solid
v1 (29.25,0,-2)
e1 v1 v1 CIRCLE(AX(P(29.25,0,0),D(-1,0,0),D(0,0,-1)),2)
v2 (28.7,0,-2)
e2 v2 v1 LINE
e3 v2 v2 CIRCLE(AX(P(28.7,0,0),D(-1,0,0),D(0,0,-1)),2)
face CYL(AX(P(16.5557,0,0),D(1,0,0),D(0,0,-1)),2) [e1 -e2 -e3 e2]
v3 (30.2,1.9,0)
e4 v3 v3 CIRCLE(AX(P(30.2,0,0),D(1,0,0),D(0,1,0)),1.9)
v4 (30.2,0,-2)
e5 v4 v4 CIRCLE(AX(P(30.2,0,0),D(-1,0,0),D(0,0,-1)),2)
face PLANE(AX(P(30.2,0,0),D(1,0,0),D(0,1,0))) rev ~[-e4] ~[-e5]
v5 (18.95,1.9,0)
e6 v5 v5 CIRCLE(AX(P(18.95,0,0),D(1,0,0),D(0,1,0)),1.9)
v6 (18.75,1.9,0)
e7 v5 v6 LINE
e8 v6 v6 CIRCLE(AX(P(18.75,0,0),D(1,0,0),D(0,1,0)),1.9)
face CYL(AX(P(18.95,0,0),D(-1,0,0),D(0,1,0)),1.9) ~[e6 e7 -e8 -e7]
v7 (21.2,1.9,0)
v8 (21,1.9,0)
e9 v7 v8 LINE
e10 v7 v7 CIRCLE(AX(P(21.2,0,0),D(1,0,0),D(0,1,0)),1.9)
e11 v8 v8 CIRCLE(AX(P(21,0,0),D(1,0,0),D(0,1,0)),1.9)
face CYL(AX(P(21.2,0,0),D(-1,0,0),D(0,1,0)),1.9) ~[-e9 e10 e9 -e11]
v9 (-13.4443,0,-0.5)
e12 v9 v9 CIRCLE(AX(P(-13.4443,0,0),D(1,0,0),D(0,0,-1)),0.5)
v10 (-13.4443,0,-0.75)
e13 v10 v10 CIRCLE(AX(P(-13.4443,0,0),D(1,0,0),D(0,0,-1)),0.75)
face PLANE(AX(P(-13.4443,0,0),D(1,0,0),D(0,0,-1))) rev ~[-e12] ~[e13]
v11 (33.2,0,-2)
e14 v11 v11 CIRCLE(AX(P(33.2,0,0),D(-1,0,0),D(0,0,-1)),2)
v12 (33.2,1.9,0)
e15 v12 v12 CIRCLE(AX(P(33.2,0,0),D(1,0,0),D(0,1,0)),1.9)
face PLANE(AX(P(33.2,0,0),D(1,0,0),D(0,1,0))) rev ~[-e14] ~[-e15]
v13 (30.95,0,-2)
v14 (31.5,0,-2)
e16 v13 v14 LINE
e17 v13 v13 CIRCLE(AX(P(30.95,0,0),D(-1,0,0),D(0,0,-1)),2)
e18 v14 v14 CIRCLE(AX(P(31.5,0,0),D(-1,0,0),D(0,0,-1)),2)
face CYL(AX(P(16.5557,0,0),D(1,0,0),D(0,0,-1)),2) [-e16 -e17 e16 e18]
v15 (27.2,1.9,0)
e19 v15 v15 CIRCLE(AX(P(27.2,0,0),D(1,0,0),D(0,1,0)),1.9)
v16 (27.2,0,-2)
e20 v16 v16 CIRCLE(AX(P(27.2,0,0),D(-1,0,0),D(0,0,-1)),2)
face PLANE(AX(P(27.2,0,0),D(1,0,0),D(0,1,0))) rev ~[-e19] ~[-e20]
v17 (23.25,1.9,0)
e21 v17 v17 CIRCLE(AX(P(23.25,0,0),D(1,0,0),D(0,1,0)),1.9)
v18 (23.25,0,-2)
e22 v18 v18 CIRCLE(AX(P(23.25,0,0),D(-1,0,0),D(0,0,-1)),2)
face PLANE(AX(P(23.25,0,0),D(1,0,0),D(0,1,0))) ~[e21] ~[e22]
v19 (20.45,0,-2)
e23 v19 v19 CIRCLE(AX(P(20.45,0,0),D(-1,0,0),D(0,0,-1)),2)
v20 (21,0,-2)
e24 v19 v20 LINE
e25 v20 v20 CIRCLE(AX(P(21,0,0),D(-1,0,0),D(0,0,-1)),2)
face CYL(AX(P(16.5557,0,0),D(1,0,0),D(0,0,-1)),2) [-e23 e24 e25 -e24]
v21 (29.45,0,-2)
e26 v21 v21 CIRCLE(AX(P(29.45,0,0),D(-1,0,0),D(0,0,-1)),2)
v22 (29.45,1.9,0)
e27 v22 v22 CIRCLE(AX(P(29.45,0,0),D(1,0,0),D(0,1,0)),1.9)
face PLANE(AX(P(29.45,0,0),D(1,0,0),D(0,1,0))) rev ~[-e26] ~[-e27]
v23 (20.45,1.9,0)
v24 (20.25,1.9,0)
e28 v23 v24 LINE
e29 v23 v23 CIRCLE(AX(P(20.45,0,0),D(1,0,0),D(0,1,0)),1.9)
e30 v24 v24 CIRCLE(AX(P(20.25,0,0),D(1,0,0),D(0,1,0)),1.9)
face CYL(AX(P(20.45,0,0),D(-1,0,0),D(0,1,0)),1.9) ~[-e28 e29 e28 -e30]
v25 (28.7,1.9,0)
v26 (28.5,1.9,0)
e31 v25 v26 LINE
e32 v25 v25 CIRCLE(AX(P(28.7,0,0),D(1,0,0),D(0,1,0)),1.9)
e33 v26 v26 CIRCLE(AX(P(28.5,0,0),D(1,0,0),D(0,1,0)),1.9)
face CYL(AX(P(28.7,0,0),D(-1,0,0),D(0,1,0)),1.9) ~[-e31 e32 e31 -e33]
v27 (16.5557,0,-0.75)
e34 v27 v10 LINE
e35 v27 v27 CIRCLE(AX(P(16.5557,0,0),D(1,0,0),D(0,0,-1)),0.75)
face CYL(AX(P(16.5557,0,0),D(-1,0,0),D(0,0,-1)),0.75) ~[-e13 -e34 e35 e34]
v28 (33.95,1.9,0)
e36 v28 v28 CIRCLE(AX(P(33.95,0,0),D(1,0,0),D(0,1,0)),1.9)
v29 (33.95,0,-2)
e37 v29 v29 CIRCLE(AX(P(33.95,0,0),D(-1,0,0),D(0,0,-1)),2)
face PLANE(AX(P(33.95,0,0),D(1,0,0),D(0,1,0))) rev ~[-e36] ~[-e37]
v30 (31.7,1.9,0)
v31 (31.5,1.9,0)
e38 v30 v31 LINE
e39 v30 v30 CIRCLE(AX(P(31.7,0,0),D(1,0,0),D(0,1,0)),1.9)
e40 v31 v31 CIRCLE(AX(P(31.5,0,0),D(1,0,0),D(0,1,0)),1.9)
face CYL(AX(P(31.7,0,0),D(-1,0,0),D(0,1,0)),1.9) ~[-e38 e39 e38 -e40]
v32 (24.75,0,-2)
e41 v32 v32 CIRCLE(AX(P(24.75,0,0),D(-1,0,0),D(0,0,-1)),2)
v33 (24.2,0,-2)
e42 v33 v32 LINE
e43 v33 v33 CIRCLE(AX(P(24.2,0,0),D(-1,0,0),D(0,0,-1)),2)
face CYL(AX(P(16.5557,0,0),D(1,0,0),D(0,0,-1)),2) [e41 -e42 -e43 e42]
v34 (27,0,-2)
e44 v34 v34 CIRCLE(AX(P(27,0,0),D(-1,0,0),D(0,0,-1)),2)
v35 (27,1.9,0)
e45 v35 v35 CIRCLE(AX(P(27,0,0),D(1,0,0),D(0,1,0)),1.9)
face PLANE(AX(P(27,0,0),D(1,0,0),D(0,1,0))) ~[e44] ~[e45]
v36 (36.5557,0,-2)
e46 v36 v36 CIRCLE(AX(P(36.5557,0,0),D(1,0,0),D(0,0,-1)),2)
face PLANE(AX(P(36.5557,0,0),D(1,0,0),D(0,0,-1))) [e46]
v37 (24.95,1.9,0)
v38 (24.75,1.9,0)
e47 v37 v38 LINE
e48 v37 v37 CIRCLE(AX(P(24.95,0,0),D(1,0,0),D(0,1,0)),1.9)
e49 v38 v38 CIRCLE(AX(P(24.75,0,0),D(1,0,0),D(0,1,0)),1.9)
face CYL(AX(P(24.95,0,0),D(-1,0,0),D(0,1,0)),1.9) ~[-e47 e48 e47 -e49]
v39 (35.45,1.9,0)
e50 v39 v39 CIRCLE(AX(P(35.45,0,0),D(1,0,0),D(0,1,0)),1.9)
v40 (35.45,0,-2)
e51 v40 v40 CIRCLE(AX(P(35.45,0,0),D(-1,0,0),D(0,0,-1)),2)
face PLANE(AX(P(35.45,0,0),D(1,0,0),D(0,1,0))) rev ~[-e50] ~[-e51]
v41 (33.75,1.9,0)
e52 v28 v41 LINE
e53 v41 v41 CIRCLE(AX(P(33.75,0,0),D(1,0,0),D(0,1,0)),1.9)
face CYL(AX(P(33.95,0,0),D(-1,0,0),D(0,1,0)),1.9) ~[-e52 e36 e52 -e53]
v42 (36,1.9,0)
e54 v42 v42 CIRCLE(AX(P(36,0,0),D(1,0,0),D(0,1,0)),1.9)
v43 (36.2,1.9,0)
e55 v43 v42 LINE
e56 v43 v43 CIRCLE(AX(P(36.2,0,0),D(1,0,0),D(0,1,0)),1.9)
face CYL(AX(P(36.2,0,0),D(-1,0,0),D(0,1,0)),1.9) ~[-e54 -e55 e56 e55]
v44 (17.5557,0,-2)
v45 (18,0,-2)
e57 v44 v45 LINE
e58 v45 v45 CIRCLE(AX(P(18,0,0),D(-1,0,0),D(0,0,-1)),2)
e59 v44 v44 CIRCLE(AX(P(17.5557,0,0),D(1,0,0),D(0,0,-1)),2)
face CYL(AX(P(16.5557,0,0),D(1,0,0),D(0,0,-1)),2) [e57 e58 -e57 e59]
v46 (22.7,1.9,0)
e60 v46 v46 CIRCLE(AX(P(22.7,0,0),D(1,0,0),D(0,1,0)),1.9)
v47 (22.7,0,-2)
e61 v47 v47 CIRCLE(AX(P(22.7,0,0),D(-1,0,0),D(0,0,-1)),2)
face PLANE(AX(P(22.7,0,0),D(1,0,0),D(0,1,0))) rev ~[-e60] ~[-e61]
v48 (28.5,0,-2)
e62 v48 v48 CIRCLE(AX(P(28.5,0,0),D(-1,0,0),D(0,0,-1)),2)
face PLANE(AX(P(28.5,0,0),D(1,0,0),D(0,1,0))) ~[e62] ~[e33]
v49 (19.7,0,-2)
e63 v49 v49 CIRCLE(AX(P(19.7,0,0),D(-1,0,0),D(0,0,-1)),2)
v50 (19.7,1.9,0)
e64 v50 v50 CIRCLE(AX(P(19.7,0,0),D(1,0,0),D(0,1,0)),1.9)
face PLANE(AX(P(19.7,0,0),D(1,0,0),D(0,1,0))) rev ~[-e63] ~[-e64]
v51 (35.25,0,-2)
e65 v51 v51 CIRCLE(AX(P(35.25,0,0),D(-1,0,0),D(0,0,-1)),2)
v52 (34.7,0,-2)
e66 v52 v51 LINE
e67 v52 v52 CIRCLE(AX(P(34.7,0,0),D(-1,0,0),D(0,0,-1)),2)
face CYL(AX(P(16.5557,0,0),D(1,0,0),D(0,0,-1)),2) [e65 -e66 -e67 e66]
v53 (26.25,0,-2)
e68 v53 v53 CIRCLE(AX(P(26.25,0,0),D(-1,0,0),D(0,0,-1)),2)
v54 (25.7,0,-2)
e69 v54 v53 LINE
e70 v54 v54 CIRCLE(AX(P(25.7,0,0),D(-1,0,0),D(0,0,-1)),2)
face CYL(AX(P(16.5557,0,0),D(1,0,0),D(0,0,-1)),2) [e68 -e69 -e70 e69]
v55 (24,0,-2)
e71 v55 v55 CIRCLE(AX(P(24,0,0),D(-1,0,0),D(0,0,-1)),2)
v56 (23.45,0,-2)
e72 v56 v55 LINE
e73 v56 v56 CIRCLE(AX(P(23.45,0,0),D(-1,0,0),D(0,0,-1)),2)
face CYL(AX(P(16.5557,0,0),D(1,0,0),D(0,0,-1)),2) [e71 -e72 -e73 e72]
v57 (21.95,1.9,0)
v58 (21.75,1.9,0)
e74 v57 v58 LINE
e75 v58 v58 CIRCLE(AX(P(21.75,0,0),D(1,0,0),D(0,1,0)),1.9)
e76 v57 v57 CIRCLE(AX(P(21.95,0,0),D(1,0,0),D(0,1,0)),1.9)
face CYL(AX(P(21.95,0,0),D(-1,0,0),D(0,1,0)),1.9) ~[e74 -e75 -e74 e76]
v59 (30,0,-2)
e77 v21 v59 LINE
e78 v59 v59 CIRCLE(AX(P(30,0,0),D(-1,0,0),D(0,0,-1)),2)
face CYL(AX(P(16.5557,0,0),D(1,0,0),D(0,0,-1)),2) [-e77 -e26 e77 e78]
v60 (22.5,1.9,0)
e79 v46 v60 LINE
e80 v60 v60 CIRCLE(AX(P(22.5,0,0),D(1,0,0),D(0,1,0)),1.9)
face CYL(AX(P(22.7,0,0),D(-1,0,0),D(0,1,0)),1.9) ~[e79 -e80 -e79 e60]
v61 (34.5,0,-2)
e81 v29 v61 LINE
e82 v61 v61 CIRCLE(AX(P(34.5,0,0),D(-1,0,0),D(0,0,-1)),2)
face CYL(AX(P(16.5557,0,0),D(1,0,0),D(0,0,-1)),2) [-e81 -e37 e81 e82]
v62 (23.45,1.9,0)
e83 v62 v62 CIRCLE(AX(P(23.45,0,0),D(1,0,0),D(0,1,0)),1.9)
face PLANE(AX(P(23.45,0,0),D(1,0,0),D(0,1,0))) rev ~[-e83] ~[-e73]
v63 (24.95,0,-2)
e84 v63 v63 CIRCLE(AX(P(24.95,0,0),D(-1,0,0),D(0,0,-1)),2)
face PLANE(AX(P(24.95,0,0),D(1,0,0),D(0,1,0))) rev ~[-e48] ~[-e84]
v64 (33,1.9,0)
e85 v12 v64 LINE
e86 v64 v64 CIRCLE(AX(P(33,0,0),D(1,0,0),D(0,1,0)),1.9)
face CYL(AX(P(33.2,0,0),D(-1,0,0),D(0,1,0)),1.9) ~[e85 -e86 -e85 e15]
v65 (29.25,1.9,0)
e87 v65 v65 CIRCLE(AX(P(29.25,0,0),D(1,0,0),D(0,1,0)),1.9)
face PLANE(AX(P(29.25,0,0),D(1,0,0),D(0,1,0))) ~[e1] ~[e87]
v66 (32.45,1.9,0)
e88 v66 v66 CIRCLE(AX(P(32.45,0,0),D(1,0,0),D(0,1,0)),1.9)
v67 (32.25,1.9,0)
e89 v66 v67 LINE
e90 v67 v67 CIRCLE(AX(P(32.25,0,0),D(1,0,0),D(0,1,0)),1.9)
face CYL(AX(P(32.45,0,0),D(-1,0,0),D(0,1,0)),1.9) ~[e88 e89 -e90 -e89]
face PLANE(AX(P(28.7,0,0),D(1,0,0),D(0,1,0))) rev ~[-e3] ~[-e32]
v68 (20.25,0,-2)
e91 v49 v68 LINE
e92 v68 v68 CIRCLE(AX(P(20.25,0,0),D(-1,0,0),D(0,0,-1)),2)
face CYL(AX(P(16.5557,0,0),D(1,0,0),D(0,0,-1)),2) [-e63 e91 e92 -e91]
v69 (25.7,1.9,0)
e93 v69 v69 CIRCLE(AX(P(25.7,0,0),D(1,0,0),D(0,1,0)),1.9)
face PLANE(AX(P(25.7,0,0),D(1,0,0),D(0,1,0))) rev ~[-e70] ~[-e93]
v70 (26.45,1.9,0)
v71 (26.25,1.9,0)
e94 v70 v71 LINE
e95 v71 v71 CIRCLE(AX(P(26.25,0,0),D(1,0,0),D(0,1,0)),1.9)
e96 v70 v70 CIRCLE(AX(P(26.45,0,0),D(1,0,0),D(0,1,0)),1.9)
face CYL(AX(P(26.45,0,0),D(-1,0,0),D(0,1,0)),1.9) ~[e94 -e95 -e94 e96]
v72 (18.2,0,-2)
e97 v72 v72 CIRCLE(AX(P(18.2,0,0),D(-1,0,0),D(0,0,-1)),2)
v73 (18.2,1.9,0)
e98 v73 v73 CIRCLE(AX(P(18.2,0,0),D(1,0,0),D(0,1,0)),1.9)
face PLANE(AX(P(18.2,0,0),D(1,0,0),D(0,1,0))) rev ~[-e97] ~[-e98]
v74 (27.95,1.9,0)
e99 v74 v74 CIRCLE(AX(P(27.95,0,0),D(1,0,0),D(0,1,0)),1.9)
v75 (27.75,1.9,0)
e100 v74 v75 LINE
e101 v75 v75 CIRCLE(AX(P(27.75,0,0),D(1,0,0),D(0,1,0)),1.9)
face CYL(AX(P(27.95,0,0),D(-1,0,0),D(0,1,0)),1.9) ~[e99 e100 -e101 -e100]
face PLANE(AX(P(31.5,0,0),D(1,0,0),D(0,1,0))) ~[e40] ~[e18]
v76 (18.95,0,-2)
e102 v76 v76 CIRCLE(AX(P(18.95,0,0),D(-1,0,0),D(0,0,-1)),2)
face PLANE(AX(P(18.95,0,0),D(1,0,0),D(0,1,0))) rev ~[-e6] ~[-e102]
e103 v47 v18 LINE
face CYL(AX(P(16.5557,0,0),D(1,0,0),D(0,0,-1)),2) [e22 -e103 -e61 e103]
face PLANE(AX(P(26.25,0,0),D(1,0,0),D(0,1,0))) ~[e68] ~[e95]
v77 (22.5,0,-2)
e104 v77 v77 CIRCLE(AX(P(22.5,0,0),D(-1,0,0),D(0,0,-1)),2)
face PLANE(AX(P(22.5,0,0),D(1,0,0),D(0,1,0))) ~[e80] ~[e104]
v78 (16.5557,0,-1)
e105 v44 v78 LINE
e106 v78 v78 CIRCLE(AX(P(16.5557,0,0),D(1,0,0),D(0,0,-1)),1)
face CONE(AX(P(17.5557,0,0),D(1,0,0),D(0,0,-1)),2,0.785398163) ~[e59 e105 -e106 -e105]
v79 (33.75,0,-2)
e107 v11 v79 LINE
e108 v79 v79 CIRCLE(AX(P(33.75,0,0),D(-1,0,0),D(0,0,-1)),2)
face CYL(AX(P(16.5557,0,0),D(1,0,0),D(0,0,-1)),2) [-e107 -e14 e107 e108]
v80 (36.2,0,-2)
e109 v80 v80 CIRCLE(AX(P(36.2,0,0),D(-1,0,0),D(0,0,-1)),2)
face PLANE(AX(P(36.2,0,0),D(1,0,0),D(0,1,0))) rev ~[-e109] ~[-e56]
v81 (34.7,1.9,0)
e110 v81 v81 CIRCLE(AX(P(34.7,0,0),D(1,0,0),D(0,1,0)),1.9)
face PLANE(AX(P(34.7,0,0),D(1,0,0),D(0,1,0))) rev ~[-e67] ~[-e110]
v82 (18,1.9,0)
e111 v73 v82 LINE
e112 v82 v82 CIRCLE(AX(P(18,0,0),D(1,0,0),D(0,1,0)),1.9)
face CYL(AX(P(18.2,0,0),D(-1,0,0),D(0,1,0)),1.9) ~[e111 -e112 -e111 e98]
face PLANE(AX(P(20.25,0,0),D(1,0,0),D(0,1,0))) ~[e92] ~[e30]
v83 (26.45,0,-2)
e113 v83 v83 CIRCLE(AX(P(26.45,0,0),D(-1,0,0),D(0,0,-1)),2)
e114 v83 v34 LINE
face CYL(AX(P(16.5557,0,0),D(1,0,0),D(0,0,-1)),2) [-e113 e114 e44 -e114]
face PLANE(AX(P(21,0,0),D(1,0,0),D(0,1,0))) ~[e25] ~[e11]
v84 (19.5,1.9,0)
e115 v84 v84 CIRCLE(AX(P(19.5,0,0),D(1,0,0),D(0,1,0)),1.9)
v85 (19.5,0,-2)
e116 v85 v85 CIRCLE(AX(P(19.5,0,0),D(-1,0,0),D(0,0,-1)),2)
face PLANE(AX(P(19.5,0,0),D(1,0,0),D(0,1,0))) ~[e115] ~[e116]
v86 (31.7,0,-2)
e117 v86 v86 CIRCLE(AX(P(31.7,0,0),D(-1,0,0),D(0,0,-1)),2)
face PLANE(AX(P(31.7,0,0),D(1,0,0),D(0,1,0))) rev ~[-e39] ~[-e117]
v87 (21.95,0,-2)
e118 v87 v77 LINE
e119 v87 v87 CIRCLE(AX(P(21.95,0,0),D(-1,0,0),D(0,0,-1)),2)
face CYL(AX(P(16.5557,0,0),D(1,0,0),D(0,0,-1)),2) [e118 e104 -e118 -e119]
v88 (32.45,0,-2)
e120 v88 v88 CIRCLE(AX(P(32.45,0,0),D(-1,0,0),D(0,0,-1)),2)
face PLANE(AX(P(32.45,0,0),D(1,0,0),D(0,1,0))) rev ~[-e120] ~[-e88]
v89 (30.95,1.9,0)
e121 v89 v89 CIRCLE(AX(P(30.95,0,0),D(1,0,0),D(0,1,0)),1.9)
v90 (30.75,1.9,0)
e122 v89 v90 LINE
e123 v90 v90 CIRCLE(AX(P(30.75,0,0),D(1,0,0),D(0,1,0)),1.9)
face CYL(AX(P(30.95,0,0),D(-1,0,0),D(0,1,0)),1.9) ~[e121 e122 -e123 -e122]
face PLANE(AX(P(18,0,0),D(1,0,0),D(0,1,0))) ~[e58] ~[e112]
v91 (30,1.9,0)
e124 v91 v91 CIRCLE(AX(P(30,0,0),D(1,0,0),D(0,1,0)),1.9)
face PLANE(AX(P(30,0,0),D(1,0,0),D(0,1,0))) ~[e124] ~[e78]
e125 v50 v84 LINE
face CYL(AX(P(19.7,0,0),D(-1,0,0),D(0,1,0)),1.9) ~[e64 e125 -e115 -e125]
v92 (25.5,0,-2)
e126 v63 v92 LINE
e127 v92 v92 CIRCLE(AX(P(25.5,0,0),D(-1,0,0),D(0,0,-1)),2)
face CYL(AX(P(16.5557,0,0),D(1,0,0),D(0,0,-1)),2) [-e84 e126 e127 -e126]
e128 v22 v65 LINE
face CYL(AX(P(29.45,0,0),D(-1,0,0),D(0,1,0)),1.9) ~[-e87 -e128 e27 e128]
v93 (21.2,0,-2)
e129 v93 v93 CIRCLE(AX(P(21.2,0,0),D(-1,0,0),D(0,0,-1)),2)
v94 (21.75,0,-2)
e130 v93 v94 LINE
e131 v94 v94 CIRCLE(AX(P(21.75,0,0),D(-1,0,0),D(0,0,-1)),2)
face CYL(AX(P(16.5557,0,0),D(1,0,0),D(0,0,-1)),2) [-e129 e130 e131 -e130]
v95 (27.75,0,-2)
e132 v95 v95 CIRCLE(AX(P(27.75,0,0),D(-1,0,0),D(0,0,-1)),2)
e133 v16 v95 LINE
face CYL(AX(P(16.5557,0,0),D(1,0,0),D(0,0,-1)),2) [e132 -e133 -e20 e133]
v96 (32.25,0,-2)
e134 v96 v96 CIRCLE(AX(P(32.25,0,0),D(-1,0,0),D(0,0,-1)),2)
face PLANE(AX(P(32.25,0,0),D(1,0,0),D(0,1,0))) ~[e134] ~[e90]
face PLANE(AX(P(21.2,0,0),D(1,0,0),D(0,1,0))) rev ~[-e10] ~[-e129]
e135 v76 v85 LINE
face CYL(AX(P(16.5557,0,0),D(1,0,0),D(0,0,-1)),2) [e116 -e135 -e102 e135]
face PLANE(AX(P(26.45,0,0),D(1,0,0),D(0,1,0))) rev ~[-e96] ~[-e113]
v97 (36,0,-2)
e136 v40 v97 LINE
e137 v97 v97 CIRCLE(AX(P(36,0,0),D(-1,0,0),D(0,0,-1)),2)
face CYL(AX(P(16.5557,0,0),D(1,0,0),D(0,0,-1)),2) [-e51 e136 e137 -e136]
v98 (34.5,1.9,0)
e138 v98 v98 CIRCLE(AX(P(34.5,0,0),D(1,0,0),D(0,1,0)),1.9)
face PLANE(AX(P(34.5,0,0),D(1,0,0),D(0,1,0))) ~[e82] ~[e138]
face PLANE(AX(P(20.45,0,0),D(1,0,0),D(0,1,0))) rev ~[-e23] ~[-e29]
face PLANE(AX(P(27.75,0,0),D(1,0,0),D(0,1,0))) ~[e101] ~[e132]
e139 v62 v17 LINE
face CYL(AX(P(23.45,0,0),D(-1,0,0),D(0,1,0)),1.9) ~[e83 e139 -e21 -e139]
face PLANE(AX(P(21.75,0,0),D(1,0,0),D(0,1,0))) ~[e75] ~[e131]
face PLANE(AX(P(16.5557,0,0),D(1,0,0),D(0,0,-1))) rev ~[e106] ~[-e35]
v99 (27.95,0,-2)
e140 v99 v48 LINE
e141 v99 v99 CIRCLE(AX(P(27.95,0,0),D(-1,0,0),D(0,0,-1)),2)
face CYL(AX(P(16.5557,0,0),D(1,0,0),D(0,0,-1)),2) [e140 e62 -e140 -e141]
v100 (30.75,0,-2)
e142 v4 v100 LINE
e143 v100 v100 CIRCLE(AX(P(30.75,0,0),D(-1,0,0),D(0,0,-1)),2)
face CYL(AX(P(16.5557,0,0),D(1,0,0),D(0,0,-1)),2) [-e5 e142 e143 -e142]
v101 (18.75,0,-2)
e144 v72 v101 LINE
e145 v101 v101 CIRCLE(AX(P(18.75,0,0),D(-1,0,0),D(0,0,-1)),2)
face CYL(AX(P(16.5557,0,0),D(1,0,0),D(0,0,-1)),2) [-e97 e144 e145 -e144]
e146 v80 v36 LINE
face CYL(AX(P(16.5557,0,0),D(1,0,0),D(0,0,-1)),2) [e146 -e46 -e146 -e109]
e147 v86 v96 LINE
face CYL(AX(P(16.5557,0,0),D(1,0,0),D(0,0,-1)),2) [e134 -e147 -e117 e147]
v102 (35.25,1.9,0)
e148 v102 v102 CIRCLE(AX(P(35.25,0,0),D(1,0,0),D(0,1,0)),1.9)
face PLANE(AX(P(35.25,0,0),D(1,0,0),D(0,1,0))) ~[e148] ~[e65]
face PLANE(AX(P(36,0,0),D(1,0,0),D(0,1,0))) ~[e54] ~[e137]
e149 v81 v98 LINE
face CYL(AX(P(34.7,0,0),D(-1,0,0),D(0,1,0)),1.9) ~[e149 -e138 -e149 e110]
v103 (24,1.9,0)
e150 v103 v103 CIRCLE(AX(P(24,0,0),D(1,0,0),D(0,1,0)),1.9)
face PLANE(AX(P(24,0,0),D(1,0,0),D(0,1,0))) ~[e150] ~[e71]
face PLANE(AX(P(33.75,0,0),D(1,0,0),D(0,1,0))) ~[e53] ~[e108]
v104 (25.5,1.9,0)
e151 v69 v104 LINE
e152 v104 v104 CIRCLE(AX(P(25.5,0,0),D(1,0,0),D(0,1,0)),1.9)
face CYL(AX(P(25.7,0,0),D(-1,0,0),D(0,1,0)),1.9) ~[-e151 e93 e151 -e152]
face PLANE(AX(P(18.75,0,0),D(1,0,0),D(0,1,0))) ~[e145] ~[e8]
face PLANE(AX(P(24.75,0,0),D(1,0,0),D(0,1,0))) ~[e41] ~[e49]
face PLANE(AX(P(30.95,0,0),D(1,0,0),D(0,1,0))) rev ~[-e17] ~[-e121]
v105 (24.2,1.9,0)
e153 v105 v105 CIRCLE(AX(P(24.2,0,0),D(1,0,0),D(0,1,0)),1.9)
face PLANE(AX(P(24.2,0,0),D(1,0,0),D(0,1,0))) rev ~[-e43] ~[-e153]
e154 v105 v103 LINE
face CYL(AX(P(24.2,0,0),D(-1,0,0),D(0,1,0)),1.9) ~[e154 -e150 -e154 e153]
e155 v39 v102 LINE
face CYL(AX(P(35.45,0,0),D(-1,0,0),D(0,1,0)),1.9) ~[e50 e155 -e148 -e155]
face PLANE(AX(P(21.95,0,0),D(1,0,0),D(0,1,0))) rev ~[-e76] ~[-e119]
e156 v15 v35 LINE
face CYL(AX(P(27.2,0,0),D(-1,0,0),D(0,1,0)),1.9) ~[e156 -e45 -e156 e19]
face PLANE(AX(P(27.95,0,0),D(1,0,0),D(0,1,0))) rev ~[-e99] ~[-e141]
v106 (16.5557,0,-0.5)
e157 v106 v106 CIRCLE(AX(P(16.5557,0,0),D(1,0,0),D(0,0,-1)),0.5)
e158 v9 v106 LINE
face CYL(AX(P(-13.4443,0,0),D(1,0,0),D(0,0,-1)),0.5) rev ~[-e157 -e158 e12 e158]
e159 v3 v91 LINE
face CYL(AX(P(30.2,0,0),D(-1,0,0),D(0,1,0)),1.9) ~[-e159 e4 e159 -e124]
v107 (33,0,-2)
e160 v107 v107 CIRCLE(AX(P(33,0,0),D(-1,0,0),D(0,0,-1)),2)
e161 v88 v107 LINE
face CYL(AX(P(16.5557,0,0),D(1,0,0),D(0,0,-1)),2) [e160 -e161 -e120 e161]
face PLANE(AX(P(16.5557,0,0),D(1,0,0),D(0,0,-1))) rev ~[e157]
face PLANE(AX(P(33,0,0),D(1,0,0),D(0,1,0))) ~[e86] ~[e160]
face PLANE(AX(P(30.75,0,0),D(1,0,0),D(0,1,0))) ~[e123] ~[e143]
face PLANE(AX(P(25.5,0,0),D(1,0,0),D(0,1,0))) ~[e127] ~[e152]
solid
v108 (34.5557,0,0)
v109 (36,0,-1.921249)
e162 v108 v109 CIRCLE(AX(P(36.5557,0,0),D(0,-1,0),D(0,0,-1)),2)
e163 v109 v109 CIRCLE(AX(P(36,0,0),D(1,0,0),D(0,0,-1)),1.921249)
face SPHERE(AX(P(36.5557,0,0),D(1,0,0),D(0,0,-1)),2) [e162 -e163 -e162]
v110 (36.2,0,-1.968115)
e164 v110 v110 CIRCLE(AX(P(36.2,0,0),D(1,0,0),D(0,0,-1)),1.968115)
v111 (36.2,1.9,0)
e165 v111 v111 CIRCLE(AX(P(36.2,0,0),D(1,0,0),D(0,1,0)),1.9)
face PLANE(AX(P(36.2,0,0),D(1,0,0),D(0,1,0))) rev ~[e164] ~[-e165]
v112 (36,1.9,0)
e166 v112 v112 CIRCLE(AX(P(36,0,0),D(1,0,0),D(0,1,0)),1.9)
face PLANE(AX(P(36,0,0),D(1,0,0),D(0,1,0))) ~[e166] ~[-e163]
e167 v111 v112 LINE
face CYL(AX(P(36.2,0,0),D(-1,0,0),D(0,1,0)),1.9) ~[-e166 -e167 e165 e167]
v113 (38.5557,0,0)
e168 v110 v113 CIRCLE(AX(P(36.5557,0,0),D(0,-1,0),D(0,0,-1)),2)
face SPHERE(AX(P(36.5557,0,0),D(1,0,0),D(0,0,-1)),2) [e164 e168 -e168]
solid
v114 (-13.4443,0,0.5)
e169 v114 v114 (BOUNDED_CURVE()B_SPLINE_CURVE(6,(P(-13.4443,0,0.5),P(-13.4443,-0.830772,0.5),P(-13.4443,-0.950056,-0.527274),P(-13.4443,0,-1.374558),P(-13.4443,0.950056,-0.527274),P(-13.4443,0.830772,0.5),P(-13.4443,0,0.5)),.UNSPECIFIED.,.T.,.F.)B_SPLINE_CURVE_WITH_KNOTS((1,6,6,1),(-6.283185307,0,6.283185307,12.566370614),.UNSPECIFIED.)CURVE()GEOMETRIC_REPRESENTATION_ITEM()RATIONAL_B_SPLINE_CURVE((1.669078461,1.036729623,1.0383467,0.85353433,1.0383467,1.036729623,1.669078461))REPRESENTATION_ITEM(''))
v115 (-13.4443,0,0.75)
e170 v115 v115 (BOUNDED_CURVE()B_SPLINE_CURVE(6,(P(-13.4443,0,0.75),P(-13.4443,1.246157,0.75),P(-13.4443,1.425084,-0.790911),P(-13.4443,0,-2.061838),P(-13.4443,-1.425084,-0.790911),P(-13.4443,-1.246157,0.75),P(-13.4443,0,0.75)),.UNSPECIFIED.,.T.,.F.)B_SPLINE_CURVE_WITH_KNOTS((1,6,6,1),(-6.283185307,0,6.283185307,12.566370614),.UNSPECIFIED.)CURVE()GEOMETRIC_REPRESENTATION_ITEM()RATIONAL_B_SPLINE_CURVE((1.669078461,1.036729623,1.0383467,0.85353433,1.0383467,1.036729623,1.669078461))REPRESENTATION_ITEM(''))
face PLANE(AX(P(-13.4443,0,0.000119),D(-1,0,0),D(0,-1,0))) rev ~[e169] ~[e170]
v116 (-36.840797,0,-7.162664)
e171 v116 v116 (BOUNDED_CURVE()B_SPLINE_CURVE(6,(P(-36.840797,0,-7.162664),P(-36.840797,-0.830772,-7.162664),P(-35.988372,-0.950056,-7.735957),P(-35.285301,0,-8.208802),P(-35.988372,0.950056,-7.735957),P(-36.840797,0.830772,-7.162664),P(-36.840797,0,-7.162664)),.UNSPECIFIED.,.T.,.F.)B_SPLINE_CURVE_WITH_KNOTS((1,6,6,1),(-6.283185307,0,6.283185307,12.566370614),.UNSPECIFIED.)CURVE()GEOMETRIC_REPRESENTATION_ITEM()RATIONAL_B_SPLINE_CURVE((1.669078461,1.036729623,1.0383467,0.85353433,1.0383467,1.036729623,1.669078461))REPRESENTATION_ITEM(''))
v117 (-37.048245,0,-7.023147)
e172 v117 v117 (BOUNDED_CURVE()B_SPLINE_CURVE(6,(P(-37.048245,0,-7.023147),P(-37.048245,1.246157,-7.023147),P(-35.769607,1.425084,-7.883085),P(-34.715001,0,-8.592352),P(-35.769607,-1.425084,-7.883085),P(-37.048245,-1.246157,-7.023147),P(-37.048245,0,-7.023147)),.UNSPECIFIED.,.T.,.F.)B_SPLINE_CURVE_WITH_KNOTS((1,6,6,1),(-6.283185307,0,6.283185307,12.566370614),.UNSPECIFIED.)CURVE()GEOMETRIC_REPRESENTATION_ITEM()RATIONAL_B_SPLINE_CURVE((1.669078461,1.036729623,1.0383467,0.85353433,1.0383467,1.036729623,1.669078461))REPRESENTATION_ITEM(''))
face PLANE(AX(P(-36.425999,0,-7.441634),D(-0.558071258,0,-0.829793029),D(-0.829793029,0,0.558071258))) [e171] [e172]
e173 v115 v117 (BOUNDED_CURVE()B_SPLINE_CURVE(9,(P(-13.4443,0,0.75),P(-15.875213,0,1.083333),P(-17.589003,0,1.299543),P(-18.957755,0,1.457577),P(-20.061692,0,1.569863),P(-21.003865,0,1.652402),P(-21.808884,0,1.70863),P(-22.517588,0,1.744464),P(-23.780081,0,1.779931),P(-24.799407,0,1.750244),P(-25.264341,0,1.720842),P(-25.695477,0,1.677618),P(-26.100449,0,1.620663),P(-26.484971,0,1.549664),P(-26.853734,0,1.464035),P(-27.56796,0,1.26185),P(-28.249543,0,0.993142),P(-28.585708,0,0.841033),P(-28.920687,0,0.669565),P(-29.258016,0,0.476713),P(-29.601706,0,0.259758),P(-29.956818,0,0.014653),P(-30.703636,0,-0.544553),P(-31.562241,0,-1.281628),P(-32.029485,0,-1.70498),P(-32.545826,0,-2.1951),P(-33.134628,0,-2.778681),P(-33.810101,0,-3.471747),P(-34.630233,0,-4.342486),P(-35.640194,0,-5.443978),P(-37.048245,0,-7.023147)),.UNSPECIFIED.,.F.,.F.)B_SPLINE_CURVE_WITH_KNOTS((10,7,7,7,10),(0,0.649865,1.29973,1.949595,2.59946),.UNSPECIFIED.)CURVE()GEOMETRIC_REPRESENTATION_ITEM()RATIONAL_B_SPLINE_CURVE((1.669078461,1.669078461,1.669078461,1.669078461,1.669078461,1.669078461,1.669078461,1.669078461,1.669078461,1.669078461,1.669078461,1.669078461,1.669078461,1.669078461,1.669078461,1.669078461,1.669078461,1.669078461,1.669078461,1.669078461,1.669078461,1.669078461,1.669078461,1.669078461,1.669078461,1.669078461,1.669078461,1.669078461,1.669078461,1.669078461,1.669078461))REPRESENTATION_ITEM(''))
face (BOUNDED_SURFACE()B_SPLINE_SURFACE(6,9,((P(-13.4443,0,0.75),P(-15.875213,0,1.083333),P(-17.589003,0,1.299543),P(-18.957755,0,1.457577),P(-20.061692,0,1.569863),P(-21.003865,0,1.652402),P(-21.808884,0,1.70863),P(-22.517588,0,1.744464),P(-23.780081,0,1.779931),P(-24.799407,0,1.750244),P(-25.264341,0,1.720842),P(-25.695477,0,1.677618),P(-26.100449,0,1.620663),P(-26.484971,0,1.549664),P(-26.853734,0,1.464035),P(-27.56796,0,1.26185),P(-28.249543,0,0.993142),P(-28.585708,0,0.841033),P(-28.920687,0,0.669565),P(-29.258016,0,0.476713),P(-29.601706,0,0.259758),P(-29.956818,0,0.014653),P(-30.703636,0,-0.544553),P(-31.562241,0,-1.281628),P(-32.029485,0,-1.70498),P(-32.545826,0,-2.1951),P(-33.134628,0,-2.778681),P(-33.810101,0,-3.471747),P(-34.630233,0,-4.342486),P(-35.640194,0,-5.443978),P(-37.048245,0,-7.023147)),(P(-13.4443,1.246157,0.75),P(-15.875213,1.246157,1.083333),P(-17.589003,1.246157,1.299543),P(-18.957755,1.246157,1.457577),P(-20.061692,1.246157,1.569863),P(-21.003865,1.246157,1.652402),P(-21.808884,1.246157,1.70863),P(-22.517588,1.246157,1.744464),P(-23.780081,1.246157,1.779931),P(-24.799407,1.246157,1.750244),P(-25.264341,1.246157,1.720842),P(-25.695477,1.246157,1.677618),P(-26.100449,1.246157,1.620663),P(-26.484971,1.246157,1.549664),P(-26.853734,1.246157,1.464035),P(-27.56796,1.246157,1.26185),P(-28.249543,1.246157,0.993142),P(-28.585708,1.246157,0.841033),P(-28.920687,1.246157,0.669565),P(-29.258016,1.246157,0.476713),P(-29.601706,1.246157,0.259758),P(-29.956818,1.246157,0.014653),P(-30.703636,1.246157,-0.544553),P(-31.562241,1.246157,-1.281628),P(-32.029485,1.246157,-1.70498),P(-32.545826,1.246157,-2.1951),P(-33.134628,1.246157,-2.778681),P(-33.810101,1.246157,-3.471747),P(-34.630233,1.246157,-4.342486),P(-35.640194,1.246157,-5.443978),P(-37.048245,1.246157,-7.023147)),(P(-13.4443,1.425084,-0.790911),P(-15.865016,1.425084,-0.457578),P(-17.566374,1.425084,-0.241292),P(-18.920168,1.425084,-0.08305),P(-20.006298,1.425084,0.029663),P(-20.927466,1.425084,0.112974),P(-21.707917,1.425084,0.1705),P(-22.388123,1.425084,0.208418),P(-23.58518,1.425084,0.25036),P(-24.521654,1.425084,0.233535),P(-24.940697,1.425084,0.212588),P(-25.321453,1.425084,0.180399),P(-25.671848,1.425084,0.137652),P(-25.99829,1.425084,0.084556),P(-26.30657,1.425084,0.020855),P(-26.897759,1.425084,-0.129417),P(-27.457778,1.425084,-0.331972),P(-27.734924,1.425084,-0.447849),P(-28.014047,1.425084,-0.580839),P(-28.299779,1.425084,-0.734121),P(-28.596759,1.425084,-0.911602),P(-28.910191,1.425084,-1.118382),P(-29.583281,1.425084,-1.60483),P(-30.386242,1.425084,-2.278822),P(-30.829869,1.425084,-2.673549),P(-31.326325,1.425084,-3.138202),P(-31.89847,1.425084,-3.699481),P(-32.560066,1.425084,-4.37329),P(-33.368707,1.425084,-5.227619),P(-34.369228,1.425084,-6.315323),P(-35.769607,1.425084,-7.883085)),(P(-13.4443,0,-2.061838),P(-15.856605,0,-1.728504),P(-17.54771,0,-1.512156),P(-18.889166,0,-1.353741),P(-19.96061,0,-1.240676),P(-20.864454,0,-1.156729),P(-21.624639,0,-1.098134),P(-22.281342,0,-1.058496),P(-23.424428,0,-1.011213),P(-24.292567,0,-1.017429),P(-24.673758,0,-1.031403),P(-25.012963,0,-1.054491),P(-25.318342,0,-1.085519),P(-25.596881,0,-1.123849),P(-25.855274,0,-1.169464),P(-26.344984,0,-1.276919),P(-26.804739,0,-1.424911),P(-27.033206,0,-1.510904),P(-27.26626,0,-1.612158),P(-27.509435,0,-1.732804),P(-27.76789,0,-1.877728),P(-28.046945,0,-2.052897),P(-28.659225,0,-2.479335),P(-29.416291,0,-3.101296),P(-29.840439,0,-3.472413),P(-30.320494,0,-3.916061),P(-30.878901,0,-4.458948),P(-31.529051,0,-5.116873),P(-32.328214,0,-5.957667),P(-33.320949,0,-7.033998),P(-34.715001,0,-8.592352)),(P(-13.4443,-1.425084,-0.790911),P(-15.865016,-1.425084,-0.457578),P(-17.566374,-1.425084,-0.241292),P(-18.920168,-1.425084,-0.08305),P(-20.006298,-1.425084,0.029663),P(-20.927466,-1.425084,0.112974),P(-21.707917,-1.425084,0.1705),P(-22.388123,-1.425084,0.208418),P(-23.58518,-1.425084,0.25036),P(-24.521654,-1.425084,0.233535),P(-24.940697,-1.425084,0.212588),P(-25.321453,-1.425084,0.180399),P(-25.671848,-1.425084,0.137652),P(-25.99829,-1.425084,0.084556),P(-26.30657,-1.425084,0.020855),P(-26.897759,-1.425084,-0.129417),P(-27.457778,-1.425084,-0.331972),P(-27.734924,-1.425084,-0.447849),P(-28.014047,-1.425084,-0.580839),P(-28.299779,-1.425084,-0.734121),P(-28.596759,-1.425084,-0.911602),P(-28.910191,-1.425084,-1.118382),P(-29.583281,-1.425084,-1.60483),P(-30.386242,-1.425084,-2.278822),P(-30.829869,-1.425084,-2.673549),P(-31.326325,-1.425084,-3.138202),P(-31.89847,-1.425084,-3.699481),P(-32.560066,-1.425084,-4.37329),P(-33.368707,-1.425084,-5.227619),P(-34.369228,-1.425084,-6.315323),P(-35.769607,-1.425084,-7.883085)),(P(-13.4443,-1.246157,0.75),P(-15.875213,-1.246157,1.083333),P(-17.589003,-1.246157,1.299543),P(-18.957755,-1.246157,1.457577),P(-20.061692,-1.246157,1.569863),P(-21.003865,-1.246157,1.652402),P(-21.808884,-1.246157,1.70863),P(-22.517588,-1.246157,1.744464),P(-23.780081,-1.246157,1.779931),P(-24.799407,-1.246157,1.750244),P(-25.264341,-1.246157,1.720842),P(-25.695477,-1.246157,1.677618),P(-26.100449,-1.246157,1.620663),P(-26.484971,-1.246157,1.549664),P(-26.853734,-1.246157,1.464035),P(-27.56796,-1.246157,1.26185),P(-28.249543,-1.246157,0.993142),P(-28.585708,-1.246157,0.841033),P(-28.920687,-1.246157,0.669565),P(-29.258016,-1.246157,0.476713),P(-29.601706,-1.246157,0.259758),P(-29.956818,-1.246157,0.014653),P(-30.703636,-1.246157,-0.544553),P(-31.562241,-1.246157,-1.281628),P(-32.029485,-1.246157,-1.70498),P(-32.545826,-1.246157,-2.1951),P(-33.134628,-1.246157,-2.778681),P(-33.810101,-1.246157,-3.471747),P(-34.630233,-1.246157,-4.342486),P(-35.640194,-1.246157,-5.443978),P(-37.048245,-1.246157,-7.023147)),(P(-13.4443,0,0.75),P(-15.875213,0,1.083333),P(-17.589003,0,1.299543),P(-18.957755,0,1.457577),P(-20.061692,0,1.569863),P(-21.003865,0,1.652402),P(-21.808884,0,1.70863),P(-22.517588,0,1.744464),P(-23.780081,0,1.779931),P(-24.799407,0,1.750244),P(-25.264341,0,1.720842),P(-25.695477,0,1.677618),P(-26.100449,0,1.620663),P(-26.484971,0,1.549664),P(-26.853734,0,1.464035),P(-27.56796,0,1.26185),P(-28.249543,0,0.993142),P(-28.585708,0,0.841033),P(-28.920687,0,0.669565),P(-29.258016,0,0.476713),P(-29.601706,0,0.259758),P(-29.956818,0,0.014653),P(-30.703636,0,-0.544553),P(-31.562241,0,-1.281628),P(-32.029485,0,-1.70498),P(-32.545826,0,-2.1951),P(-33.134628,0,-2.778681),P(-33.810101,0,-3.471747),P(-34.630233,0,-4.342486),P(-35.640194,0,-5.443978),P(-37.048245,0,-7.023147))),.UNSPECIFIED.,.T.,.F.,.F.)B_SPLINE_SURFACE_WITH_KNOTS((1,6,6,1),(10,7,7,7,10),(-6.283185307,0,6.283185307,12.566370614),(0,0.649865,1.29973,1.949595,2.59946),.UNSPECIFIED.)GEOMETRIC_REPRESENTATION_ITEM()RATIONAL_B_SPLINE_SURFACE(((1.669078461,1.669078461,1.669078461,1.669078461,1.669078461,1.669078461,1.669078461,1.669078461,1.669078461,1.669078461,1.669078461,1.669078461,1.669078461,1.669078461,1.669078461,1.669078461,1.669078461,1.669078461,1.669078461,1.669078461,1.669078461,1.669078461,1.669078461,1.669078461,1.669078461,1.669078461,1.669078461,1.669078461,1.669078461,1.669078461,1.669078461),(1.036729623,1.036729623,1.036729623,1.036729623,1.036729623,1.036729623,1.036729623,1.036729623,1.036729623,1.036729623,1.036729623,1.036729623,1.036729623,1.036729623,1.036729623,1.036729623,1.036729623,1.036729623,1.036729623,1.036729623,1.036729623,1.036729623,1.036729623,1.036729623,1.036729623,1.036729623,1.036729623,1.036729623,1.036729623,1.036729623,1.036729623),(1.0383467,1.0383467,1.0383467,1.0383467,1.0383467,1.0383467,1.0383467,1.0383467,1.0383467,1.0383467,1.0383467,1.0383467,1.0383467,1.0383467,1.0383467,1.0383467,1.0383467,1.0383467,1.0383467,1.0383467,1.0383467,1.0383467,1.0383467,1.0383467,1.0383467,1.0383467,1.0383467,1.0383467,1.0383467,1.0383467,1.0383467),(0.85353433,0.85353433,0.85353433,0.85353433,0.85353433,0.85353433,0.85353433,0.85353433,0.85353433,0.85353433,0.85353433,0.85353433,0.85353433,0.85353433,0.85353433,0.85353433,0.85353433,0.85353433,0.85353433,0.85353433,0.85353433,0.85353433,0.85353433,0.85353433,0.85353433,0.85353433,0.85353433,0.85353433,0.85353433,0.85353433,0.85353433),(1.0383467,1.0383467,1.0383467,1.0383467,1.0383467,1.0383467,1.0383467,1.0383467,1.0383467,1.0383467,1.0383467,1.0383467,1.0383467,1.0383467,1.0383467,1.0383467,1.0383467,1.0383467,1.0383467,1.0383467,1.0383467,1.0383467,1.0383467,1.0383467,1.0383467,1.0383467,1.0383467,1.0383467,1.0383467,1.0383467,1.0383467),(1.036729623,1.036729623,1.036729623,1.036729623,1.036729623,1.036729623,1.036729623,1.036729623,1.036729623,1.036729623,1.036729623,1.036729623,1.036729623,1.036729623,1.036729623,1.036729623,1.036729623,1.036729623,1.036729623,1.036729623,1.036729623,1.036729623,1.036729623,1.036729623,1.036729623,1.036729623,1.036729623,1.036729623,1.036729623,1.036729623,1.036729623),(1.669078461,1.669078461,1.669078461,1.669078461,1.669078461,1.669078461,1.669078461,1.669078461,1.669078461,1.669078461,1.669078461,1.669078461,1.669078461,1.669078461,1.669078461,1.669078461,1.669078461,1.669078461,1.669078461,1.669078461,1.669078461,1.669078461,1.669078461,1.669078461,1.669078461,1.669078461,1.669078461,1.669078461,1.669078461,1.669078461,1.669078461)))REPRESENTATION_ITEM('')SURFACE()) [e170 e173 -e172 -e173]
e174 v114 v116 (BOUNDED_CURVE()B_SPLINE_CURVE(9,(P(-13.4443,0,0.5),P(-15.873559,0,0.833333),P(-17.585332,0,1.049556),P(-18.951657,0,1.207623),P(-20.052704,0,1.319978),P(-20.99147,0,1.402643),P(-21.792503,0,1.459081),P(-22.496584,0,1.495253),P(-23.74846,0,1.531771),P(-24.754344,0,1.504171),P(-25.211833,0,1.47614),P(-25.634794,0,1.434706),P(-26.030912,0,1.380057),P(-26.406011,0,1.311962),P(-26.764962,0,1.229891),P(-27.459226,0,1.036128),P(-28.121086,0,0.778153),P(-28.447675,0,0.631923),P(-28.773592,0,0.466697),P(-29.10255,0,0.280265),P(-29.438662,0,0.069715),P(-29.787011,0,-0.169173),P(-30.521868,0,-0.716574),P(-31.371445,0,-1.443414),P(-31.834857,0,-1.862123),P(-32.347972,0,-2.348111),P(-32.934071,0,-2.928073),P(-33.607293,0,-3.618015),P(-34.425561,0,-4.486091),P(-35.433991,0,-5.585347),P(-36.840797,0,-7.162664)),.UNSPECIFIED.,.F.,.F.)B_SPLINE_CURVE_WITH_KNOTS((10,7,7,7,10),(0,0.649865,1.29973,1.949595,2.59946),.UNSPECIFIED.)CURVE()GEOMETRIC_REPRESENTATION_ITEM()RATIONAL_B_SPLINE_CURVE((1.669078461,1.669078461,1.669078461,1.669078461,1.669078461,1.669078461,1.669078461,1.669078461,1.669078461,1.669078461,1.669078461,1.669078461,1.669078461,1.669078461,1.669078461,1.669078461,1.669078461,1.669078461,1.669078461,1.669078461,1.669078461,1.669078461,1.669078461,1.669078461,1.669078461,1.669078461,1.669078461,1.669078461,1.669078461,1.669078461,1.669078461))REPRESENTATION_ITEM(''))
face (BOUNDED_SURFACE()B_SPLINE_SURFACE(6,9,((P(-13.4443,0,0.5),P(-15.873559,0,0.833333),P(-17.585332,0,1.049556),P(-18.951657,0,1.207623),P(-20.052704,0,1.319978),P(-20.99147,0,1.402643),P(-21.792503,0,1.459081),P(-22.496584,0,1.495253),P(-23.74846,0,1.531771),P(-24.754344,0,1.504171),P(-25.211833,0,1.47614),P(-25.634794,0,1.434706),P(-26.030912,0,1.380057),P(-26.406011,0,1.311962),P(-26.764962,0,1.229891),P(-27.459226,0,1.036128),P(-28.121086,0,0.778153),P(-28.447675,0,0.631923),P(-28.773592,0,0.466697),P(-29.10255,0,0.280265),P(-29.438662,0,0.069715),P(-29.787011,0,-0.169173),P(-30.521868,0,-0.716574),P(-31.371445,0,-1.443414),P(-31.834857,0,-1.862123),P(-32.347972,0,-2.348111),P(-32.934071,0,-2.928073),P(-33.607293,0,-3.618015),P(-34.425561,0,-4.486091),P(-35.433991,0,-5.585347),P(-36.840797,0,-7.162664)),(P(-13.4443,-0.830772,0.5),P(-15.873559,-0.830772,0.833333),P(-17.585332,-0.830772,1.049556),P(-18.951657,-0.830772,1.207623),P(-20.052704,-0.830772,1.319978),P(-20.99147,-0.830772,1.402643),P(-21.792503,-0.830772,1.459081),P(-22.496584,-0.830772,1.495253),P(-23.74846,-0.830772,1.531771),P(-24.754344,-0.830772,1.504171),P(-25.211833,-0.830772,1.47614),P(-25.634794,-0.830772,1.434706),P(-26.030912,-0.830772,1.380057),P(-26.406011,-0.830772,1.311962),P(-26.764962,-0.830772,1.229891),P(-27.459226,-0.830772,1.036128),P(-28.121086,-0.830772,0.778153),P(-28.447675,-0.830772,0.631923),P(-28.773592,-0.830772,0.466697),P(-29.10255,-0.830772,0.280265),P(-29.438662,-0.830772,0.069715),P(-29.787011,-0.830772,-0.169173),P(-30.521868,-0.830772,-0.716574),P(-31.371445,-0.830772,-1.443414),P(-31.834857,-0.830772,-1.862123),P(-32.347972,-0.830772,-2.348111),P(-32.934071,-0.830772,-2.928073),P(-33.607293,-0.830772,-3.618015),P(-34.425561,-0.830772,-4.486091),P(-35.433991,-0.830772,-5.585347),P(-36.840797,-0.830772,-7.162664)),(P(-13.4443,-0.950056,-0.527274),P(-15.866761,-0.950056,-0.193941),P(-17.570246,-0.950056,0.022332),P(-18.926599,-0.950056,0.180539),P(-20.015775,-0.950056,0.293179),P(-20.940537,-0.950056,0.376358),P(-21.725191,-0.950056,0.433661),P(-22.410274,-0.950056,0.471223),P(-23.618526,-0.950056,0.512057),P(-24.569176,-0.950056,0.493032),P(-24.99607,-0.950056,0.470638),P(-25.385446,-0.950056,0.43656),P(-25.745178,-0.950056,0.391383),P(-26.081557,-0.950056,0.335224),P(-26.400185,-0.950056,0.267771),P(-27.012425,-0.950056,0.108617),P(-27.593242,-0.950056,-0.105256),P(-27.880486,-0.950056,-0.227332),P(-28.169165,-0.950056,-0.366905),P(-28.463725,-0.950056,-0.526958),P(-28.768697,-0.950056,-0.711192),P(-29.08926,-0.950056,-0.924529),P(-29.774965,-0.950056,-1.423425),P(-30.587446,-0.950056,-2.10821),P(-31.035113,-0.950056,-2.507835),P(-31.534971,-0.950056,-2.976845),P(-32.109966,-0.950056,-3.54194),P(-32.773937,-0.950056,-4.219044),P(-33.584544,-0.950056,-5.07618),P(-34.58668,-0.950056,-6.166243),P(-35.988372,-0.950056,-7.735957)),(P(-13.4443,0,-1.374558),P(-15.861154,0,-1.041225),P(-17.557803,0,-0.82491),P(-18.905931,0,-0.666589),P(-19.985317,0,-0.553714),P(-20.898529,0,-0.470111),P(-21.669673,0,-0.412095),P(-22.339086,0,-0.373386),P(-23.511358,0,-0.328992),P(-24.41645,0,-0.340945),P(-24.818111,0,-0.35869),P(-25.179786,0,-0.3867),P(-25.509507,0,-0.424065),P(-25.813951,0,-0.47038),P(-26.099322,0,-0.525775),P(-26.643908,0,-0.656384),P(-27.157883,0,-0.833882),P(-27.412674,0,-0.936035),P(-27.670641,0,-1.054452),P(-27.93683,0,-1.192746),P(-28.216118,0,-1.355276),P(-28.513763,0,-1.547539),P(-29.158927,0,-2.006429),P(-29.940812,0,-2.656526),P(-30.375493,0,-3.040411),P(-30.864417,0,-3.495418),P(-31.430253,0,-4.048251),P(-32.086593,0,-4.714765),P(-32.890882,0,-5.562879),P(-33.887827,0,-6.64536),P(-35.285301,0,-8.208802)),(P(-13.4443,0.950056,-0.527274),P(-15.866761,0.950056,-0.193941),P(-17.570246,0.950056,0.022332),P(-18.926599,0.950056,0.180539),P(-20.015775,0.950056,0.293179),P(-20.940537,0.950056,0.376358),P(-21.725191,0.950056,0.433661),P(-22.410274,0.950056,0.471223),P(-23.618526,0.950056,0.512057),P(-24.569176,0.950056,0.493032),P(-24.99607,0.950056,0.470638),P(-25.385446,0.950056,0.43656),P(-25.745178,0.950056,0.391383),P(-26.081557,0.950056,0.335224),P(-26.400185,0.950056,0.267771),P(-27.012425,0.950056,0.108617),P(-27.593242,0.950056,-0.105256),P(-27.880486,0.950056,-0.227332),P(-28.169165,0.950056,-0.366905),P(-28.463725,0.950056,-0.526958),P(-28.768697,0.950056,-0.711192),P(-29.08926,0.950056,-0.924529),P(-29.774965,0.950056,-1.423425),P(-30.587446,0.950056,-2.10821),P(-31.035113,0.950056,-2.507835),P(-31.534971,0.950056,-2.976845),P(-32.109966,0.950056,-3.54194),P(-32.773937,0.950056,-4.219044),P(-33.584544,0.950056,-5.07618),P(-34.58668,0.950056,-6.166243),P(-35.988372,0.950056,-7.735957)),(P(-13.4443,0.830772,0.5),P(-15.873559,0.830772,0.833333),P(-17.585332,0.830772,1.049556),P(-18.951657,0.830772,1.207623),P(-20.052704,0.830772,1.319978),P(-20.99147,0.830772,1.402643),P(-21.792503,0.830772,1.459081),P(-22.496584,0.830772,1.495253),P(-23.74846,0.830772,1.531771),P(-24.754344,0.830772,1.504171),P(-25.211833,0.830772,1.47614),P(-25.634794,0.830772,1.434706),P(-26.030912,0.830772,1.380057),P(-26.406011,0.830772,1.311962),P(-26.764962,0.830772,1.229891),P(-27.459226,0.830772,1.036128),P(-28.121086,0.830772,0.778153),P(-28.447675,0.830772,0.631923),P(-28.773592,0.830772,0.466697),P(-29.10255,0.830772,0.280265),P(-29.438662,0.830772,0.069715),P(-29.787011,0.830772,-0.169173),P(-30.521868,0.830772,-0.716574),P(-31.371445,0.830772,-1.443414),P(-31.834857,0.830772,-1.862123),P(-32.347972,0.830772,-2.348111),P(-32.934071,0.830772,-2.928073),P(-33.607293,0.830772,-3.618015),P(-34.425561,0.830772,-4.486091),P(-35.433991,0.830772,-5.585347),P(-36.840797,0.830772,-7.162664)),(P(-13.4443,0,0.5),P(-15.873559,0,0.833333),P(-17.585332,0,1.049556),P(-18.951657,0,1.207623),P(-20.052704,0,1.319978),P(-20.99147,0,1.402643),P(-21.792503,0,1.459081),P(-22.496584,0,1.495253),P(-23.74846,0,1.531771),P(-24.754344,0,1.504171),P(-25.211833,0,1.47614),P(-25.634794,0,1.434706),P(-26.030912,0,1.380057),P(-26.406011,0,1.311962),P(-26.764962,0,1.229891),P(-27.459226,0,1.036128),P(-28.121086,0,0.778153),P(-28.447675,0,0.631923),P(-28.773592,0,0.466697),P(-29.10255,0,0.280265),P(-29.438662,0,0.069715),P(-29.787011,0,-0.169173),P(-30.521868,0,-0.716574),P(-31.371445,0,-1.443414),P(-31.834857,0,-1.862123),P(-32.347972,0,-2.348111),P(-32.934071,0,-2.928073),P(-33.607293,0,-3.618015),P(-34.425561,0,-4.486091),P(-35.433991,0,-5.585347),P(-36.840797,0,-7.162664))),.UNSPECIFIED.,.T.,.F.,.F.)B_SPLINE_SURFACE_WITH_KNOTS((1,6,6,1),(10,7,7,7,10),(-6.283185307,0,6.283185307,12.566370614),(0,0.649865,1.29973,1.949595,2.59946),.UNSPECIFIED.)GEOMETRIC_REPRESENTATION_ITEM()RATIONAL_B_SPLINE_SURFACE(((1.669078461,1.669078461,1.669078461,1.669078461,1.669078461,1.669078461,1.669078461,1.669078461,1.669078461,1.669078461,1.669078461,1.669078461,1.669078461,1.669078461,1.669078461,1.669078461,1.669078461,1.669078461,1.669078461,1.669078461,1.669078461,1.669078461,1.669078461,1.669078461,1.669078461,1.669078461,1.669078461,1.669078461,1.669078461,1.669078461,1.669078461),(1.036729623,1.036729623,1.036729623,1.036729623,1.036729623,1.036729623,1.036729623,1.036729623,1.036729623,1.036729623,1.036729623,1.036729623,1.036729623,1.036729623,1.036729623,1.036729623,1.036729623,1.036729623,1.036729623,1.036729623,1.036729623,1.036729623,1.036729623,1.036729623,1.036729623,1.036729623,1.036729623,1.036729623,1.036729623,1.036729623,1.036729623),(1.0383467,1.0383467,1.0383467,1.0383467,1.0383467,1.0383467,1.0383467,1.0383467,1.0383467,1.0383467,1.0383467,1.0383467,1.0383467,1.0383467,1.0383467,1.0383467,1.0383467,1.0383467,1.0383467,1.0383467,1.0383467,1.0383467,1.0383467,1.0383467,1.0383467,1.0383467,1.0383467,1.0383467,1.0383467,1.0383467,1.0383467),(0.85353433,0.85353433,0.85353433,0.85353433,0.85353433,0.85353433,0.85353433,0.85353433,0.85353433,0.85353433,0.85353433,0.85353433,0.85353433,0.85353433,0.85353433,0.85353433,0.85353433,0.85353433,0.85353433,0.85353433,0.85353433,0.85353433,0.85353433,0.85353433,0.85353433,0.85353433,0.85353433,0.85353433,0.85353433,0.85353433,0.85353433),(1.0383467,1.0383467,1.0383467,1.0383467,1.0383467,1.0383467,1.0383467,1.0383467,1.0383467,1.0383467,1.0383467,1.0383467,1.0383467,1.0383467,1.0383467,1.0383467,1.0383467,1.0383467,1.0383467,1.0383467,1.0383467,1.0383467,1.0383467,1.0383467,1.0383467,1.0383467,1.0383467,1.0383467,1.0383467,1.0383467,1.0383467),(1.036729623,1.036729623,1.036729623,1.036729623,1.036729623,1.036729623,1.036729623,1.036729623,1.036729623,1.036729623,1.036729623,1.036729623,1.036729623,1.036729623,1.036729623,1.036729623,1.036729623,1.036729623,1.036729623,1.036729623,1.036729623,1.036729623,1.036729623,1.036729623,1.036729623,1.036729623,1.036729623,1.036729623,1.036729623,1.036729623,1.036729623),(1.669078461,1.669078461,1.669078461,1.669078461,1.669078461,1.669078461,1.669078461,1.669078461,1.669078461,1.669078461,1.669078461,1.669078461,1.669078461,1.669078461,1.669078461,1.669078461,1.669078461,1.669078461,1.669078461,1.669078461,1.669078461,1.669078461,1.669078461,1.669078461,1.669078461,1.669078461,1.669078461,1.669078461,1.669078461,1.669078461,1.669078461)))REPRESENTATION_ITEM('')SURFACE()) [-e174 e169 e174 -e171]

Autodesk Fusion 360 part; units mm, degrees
sketch "Sketch1" plane through (0, 0, 0) normal (0, 1, 0) x (1, 0, 0)
  line L0 (-13.4443, 0.5) -> (16.5557, 0.5)
  line L1 (16.5557, 0.5) -> (16.5557, 0.75)
  line L2 (16.5557, 0.75) -> (-13.4443, 0.75)
  line L3 (-13.4443, 0.75) -> (-13.4443, 0.5)
  dimension "d2" = 30
  dimension "d4" = 0.5
  dimension "d5" = 0.25
revolve "Revolve1" add sketch "Sketch1" angle 360 about axis through (1.75, 0, 0) along (1, 0, 0) makes body 1
cylinder "CylinderPrimitive1" add diameter 4 height 20 placed x (0, 0, -1) y (0, 1, 0) z (1, 0, 0) at (16.5557, 0, 0) bodies 1
sphere "SpherePrimitive1" add diameter 4 placed x (0, 0, -1) y (0, 1, 0) z (1, 0, 0) at (36.5557, 0, 0) separate body makes body 2
chamfer "Chamfer1" distance 1 angle 45 1 edges at (16.5557, 0.7232, 1.8647) on bodies 1
sketch "Sketch5" plane through (0, 0, 0) normal (0, 0, 1) x (1, 0, 0)
  line L0 (18, 2) -> (18.2, 2)
  line L1 (18.2, 2) -> (18.2, 1.9)
  line L2 (18.2, 1.9) -> (18, 1.9)
  line L3 (18, 1.9) -> (18, 2)
  line L4 (18.95, 2) -> (18.95, 1.9)
  line L5 (18.75, 2) -> (18.95, 2)
  line L6 (18.75, 1.9) -> (18.75, 2)
  line L7 (18.95, 1.9) -> (18.75, 1.9)
  line L8 (19.7, 2) -> (19.7, 1.9)
  line L9 (19.5, 2) -> (19.7, 2)
  line L10 (19.5, 1.9) -> (19.5, 2)
  line L11 (19.7, 1.9) -> (19.5, 1.9)
  line L12 (20.45, 2) -> (20.45, 1.9)
  line L13 (20.25, 2) -> (20.45, 2)
  line L14 (20.25, 1.9) -> (20.25, 2)
  line L15 (20.45, 1.9) -> (20.25, 1.9)
  line L16 (21.2, 2) -> (21.2, 1.9)
  line L17 (21, 2) -> (21.2, 2)
  line L18 (21, 1.9) -> (21, 2)
  line L19 (21.2, 1.9) -> (21, 1.9)
  line L20 (21.95, 2) -> (21.95, 1.9)
  line L21 (21.75, 2) -> (21.95, 2)
  line L22 (21.75, 1.9) -> (21.75, 2)
  line L23 (21.95, 1.9) -> (21.75, 1.9)
  line L24 (22.7, 2) -> (22.7, 1.9)
  line L25 (22.5, 2) -> (22.7, 2)
  line L26 (22.5, 1.9) -> (22.5, 2)
  line L27 (22.7, 1.9) -> (22.5, 1.9)
  line L28 (23.45, 2) -> (23.45, 1.9)
  line L29 (23.25, 2) -> (23.45, 2)
  line L30 (23.25, 1.9) -> (23.25, 2)
  line L31 (23.45, 1.9) -> (23.25, 1.9)
  line L32 (24.2, 2) -> (24.2, 1.9)
  line L33 (24, 2) -> (24.2, 2)
  line L34 (24, 1.9) -> (24, 2)
  line L35 (24.2, 1.9) -> (24, 1.9)
  line L36 (24.95, 2) -> (24.95, 1.9)
  line L37 (24.75, 2) -> (24.95, 2)
  line L38 (24.75, 1.9) -> (24.75, 2)
  line L39 (24.95, 1.9) -> (24.75, 1.9)
  line L40 (25.7, 2) -> (25.7, 1.9)
  line L41 (25.5, 2) -> (25.7, 2)
  line L42 (25.5, 1.9) -> (25.5, 2)
  line L43 (25.7, 1.9) -> (25.5, 1.9)
  line L44 (26.45, 2) -> (26.45, 1.9)
  line L45 (26.25, 2) -> (26.45, 2)
  line L46 (26.25, 1.9) -> (26.25, 2)
  line L47 (26.45, 1.9) -> (26.25, 1.9)
  line L48 (27.2, 2) -> (27.2, 1.9)
  line L49 (27, 2) -> (27.2, 2)
  line L50 (27, 1.9) -> (27, 2)
  line L51 (27.2, 1.9) -> (27, 1.9)
  line L52 (27.95, 2) -> (27.95, 1.9)
  line L53 (27.75, 2) -> (27.95, 2)
  line L54 (27.75, 1.9) -> (27.75, 2)
  line L55 (27.95, 1.9) -> (27.75, 1.9)
  line L56 (28.7, 2) -> (28.7, 1.9)
  line L57 (28.5, 2) -> (28.7, 2)
  line L58 (28.5, 1.9) -> (28.5, 2)
  line L59 (28.7, 1.9) -> (28.5, 1.9)
  line L60 (29.45, 2) -> (29.45, 1.9)
  line L61 (29.25, 2) -> (29.45, 2)
  line L62 (29.25, 1.9) -> (29.25, 2)
  line L63 (29.45, 1.9) -> (29.25, 1.9)
  line L64 (30.2, 2) -> (30.2, 1.9)
  line L65 (30, 2) -> (30.2, 2)
  line L66 (30, 1.9) -> (30, 2)
  line L67 (30.2, 1.9) -> (30, 1.9)
  line L68 (30.95, 2) -> (30.95, 1.9)
  line L69 (30.75, 2) -> (30.95, 2)
  line L70 (30.75, 1.9) -> (30.75, 2)
  line L71 (30.95, 1.9) -> (30.75, 1.9)
  line L72 (31.7, 2) -> (31.7, 1.9)
  line L73 (31.5, 2) -> (31.7, 2)
  line L74 (31.5, 1.9) -> (31.5, 2)
  line L75 (31.7, 1.9) -> (31.5, 1.9)
  line L76 (32.45, 2) -> (32.45, 1.9)
  line L77 (32.25, 2) -> (32.45, 2)
  line L78 (32.25, 1.9) -> (32.25, 2)
  line L79 (32.45, 1.9) -> (32.25, 1.9)
  line L80 (33.2, 2) -> (33.2, 1.9)
  line L81 (33, 2) -> (33.2, 2)
  line L82 (33, 1.9) -> (33, 2)
  line L83 (33.2, 1.9) -> (33, 1.9)
  line L84 (33.95, 2) -> (33.95, 1.9)
  line L85 (33.75, 2) -> (33.95, 2)
  line L86 (33.75, 1.9) -> (33.75, 2)
  line L87 (33.95, 1.9) -> (33.75, 1.9)
  line L88 (34.7, 2) -> (34.7, 1.9)
  line L89 (34.5, 2) -> (34.7, 2)
  line L90 (34.5, 1.9) -> (34.5, 2)
  line L91 (34.7, 1.9) -> (34.5, 1.9)
  line L92 (35.45, 2) -> (35.45, 1.9)
  line L93 (35.25, 2) -> (35.45, 2)
  line L94 (35.25, 1.9) -> (35.25, 2)
  line L95 (35.45, 1.9) -> (35.25, 1.9)
  line L96 (36.2, 2) -> (36.2, 1.9)
  line L97 (36, 2) -> (36.2, 2)
  line L98 (36, 1.9) -> (36, 2)
  line L99 (36.2, 1.9) -> (36, 1.9)
  dimension "d12" = 18
  dimension "d13" = 0
revolve "Revolve2" cut sketch "Sketch5" angle 360 about axis through (1.75, 0, 0) along (1, 0, 0) bodies 1 2
sketch "Sketch6" plane through (0, 0, 0) normal (0, 1, 0) x (1, 0, 0)
  spline S0 degree 2 poles (-13.4443, 0) (-28, -2) (-36.4259, 7.4417) knots 0 0 0 2.59946 2.59946 2.59946 weights 1 3 1
  line L0 (-13.4443, -0.75) -> (-13.4443, 0.75)
sketch "Sketch7" plane through (-13.4443, 0, 0) normal (-1, 0, 0) x (0, 0, 1)
  circle A0 centre (0, 0) radius 0.5
  circle A1 centre (0, 0) radius 0.75
  circle A2 centre (0, 0) radius 0.75
  circle A3 centre (0, 0) radius 0.5
sweep "Sweep1" add profiles "Sketch7" path "Sketch6" along S0 section 1 separate body makes body 3
